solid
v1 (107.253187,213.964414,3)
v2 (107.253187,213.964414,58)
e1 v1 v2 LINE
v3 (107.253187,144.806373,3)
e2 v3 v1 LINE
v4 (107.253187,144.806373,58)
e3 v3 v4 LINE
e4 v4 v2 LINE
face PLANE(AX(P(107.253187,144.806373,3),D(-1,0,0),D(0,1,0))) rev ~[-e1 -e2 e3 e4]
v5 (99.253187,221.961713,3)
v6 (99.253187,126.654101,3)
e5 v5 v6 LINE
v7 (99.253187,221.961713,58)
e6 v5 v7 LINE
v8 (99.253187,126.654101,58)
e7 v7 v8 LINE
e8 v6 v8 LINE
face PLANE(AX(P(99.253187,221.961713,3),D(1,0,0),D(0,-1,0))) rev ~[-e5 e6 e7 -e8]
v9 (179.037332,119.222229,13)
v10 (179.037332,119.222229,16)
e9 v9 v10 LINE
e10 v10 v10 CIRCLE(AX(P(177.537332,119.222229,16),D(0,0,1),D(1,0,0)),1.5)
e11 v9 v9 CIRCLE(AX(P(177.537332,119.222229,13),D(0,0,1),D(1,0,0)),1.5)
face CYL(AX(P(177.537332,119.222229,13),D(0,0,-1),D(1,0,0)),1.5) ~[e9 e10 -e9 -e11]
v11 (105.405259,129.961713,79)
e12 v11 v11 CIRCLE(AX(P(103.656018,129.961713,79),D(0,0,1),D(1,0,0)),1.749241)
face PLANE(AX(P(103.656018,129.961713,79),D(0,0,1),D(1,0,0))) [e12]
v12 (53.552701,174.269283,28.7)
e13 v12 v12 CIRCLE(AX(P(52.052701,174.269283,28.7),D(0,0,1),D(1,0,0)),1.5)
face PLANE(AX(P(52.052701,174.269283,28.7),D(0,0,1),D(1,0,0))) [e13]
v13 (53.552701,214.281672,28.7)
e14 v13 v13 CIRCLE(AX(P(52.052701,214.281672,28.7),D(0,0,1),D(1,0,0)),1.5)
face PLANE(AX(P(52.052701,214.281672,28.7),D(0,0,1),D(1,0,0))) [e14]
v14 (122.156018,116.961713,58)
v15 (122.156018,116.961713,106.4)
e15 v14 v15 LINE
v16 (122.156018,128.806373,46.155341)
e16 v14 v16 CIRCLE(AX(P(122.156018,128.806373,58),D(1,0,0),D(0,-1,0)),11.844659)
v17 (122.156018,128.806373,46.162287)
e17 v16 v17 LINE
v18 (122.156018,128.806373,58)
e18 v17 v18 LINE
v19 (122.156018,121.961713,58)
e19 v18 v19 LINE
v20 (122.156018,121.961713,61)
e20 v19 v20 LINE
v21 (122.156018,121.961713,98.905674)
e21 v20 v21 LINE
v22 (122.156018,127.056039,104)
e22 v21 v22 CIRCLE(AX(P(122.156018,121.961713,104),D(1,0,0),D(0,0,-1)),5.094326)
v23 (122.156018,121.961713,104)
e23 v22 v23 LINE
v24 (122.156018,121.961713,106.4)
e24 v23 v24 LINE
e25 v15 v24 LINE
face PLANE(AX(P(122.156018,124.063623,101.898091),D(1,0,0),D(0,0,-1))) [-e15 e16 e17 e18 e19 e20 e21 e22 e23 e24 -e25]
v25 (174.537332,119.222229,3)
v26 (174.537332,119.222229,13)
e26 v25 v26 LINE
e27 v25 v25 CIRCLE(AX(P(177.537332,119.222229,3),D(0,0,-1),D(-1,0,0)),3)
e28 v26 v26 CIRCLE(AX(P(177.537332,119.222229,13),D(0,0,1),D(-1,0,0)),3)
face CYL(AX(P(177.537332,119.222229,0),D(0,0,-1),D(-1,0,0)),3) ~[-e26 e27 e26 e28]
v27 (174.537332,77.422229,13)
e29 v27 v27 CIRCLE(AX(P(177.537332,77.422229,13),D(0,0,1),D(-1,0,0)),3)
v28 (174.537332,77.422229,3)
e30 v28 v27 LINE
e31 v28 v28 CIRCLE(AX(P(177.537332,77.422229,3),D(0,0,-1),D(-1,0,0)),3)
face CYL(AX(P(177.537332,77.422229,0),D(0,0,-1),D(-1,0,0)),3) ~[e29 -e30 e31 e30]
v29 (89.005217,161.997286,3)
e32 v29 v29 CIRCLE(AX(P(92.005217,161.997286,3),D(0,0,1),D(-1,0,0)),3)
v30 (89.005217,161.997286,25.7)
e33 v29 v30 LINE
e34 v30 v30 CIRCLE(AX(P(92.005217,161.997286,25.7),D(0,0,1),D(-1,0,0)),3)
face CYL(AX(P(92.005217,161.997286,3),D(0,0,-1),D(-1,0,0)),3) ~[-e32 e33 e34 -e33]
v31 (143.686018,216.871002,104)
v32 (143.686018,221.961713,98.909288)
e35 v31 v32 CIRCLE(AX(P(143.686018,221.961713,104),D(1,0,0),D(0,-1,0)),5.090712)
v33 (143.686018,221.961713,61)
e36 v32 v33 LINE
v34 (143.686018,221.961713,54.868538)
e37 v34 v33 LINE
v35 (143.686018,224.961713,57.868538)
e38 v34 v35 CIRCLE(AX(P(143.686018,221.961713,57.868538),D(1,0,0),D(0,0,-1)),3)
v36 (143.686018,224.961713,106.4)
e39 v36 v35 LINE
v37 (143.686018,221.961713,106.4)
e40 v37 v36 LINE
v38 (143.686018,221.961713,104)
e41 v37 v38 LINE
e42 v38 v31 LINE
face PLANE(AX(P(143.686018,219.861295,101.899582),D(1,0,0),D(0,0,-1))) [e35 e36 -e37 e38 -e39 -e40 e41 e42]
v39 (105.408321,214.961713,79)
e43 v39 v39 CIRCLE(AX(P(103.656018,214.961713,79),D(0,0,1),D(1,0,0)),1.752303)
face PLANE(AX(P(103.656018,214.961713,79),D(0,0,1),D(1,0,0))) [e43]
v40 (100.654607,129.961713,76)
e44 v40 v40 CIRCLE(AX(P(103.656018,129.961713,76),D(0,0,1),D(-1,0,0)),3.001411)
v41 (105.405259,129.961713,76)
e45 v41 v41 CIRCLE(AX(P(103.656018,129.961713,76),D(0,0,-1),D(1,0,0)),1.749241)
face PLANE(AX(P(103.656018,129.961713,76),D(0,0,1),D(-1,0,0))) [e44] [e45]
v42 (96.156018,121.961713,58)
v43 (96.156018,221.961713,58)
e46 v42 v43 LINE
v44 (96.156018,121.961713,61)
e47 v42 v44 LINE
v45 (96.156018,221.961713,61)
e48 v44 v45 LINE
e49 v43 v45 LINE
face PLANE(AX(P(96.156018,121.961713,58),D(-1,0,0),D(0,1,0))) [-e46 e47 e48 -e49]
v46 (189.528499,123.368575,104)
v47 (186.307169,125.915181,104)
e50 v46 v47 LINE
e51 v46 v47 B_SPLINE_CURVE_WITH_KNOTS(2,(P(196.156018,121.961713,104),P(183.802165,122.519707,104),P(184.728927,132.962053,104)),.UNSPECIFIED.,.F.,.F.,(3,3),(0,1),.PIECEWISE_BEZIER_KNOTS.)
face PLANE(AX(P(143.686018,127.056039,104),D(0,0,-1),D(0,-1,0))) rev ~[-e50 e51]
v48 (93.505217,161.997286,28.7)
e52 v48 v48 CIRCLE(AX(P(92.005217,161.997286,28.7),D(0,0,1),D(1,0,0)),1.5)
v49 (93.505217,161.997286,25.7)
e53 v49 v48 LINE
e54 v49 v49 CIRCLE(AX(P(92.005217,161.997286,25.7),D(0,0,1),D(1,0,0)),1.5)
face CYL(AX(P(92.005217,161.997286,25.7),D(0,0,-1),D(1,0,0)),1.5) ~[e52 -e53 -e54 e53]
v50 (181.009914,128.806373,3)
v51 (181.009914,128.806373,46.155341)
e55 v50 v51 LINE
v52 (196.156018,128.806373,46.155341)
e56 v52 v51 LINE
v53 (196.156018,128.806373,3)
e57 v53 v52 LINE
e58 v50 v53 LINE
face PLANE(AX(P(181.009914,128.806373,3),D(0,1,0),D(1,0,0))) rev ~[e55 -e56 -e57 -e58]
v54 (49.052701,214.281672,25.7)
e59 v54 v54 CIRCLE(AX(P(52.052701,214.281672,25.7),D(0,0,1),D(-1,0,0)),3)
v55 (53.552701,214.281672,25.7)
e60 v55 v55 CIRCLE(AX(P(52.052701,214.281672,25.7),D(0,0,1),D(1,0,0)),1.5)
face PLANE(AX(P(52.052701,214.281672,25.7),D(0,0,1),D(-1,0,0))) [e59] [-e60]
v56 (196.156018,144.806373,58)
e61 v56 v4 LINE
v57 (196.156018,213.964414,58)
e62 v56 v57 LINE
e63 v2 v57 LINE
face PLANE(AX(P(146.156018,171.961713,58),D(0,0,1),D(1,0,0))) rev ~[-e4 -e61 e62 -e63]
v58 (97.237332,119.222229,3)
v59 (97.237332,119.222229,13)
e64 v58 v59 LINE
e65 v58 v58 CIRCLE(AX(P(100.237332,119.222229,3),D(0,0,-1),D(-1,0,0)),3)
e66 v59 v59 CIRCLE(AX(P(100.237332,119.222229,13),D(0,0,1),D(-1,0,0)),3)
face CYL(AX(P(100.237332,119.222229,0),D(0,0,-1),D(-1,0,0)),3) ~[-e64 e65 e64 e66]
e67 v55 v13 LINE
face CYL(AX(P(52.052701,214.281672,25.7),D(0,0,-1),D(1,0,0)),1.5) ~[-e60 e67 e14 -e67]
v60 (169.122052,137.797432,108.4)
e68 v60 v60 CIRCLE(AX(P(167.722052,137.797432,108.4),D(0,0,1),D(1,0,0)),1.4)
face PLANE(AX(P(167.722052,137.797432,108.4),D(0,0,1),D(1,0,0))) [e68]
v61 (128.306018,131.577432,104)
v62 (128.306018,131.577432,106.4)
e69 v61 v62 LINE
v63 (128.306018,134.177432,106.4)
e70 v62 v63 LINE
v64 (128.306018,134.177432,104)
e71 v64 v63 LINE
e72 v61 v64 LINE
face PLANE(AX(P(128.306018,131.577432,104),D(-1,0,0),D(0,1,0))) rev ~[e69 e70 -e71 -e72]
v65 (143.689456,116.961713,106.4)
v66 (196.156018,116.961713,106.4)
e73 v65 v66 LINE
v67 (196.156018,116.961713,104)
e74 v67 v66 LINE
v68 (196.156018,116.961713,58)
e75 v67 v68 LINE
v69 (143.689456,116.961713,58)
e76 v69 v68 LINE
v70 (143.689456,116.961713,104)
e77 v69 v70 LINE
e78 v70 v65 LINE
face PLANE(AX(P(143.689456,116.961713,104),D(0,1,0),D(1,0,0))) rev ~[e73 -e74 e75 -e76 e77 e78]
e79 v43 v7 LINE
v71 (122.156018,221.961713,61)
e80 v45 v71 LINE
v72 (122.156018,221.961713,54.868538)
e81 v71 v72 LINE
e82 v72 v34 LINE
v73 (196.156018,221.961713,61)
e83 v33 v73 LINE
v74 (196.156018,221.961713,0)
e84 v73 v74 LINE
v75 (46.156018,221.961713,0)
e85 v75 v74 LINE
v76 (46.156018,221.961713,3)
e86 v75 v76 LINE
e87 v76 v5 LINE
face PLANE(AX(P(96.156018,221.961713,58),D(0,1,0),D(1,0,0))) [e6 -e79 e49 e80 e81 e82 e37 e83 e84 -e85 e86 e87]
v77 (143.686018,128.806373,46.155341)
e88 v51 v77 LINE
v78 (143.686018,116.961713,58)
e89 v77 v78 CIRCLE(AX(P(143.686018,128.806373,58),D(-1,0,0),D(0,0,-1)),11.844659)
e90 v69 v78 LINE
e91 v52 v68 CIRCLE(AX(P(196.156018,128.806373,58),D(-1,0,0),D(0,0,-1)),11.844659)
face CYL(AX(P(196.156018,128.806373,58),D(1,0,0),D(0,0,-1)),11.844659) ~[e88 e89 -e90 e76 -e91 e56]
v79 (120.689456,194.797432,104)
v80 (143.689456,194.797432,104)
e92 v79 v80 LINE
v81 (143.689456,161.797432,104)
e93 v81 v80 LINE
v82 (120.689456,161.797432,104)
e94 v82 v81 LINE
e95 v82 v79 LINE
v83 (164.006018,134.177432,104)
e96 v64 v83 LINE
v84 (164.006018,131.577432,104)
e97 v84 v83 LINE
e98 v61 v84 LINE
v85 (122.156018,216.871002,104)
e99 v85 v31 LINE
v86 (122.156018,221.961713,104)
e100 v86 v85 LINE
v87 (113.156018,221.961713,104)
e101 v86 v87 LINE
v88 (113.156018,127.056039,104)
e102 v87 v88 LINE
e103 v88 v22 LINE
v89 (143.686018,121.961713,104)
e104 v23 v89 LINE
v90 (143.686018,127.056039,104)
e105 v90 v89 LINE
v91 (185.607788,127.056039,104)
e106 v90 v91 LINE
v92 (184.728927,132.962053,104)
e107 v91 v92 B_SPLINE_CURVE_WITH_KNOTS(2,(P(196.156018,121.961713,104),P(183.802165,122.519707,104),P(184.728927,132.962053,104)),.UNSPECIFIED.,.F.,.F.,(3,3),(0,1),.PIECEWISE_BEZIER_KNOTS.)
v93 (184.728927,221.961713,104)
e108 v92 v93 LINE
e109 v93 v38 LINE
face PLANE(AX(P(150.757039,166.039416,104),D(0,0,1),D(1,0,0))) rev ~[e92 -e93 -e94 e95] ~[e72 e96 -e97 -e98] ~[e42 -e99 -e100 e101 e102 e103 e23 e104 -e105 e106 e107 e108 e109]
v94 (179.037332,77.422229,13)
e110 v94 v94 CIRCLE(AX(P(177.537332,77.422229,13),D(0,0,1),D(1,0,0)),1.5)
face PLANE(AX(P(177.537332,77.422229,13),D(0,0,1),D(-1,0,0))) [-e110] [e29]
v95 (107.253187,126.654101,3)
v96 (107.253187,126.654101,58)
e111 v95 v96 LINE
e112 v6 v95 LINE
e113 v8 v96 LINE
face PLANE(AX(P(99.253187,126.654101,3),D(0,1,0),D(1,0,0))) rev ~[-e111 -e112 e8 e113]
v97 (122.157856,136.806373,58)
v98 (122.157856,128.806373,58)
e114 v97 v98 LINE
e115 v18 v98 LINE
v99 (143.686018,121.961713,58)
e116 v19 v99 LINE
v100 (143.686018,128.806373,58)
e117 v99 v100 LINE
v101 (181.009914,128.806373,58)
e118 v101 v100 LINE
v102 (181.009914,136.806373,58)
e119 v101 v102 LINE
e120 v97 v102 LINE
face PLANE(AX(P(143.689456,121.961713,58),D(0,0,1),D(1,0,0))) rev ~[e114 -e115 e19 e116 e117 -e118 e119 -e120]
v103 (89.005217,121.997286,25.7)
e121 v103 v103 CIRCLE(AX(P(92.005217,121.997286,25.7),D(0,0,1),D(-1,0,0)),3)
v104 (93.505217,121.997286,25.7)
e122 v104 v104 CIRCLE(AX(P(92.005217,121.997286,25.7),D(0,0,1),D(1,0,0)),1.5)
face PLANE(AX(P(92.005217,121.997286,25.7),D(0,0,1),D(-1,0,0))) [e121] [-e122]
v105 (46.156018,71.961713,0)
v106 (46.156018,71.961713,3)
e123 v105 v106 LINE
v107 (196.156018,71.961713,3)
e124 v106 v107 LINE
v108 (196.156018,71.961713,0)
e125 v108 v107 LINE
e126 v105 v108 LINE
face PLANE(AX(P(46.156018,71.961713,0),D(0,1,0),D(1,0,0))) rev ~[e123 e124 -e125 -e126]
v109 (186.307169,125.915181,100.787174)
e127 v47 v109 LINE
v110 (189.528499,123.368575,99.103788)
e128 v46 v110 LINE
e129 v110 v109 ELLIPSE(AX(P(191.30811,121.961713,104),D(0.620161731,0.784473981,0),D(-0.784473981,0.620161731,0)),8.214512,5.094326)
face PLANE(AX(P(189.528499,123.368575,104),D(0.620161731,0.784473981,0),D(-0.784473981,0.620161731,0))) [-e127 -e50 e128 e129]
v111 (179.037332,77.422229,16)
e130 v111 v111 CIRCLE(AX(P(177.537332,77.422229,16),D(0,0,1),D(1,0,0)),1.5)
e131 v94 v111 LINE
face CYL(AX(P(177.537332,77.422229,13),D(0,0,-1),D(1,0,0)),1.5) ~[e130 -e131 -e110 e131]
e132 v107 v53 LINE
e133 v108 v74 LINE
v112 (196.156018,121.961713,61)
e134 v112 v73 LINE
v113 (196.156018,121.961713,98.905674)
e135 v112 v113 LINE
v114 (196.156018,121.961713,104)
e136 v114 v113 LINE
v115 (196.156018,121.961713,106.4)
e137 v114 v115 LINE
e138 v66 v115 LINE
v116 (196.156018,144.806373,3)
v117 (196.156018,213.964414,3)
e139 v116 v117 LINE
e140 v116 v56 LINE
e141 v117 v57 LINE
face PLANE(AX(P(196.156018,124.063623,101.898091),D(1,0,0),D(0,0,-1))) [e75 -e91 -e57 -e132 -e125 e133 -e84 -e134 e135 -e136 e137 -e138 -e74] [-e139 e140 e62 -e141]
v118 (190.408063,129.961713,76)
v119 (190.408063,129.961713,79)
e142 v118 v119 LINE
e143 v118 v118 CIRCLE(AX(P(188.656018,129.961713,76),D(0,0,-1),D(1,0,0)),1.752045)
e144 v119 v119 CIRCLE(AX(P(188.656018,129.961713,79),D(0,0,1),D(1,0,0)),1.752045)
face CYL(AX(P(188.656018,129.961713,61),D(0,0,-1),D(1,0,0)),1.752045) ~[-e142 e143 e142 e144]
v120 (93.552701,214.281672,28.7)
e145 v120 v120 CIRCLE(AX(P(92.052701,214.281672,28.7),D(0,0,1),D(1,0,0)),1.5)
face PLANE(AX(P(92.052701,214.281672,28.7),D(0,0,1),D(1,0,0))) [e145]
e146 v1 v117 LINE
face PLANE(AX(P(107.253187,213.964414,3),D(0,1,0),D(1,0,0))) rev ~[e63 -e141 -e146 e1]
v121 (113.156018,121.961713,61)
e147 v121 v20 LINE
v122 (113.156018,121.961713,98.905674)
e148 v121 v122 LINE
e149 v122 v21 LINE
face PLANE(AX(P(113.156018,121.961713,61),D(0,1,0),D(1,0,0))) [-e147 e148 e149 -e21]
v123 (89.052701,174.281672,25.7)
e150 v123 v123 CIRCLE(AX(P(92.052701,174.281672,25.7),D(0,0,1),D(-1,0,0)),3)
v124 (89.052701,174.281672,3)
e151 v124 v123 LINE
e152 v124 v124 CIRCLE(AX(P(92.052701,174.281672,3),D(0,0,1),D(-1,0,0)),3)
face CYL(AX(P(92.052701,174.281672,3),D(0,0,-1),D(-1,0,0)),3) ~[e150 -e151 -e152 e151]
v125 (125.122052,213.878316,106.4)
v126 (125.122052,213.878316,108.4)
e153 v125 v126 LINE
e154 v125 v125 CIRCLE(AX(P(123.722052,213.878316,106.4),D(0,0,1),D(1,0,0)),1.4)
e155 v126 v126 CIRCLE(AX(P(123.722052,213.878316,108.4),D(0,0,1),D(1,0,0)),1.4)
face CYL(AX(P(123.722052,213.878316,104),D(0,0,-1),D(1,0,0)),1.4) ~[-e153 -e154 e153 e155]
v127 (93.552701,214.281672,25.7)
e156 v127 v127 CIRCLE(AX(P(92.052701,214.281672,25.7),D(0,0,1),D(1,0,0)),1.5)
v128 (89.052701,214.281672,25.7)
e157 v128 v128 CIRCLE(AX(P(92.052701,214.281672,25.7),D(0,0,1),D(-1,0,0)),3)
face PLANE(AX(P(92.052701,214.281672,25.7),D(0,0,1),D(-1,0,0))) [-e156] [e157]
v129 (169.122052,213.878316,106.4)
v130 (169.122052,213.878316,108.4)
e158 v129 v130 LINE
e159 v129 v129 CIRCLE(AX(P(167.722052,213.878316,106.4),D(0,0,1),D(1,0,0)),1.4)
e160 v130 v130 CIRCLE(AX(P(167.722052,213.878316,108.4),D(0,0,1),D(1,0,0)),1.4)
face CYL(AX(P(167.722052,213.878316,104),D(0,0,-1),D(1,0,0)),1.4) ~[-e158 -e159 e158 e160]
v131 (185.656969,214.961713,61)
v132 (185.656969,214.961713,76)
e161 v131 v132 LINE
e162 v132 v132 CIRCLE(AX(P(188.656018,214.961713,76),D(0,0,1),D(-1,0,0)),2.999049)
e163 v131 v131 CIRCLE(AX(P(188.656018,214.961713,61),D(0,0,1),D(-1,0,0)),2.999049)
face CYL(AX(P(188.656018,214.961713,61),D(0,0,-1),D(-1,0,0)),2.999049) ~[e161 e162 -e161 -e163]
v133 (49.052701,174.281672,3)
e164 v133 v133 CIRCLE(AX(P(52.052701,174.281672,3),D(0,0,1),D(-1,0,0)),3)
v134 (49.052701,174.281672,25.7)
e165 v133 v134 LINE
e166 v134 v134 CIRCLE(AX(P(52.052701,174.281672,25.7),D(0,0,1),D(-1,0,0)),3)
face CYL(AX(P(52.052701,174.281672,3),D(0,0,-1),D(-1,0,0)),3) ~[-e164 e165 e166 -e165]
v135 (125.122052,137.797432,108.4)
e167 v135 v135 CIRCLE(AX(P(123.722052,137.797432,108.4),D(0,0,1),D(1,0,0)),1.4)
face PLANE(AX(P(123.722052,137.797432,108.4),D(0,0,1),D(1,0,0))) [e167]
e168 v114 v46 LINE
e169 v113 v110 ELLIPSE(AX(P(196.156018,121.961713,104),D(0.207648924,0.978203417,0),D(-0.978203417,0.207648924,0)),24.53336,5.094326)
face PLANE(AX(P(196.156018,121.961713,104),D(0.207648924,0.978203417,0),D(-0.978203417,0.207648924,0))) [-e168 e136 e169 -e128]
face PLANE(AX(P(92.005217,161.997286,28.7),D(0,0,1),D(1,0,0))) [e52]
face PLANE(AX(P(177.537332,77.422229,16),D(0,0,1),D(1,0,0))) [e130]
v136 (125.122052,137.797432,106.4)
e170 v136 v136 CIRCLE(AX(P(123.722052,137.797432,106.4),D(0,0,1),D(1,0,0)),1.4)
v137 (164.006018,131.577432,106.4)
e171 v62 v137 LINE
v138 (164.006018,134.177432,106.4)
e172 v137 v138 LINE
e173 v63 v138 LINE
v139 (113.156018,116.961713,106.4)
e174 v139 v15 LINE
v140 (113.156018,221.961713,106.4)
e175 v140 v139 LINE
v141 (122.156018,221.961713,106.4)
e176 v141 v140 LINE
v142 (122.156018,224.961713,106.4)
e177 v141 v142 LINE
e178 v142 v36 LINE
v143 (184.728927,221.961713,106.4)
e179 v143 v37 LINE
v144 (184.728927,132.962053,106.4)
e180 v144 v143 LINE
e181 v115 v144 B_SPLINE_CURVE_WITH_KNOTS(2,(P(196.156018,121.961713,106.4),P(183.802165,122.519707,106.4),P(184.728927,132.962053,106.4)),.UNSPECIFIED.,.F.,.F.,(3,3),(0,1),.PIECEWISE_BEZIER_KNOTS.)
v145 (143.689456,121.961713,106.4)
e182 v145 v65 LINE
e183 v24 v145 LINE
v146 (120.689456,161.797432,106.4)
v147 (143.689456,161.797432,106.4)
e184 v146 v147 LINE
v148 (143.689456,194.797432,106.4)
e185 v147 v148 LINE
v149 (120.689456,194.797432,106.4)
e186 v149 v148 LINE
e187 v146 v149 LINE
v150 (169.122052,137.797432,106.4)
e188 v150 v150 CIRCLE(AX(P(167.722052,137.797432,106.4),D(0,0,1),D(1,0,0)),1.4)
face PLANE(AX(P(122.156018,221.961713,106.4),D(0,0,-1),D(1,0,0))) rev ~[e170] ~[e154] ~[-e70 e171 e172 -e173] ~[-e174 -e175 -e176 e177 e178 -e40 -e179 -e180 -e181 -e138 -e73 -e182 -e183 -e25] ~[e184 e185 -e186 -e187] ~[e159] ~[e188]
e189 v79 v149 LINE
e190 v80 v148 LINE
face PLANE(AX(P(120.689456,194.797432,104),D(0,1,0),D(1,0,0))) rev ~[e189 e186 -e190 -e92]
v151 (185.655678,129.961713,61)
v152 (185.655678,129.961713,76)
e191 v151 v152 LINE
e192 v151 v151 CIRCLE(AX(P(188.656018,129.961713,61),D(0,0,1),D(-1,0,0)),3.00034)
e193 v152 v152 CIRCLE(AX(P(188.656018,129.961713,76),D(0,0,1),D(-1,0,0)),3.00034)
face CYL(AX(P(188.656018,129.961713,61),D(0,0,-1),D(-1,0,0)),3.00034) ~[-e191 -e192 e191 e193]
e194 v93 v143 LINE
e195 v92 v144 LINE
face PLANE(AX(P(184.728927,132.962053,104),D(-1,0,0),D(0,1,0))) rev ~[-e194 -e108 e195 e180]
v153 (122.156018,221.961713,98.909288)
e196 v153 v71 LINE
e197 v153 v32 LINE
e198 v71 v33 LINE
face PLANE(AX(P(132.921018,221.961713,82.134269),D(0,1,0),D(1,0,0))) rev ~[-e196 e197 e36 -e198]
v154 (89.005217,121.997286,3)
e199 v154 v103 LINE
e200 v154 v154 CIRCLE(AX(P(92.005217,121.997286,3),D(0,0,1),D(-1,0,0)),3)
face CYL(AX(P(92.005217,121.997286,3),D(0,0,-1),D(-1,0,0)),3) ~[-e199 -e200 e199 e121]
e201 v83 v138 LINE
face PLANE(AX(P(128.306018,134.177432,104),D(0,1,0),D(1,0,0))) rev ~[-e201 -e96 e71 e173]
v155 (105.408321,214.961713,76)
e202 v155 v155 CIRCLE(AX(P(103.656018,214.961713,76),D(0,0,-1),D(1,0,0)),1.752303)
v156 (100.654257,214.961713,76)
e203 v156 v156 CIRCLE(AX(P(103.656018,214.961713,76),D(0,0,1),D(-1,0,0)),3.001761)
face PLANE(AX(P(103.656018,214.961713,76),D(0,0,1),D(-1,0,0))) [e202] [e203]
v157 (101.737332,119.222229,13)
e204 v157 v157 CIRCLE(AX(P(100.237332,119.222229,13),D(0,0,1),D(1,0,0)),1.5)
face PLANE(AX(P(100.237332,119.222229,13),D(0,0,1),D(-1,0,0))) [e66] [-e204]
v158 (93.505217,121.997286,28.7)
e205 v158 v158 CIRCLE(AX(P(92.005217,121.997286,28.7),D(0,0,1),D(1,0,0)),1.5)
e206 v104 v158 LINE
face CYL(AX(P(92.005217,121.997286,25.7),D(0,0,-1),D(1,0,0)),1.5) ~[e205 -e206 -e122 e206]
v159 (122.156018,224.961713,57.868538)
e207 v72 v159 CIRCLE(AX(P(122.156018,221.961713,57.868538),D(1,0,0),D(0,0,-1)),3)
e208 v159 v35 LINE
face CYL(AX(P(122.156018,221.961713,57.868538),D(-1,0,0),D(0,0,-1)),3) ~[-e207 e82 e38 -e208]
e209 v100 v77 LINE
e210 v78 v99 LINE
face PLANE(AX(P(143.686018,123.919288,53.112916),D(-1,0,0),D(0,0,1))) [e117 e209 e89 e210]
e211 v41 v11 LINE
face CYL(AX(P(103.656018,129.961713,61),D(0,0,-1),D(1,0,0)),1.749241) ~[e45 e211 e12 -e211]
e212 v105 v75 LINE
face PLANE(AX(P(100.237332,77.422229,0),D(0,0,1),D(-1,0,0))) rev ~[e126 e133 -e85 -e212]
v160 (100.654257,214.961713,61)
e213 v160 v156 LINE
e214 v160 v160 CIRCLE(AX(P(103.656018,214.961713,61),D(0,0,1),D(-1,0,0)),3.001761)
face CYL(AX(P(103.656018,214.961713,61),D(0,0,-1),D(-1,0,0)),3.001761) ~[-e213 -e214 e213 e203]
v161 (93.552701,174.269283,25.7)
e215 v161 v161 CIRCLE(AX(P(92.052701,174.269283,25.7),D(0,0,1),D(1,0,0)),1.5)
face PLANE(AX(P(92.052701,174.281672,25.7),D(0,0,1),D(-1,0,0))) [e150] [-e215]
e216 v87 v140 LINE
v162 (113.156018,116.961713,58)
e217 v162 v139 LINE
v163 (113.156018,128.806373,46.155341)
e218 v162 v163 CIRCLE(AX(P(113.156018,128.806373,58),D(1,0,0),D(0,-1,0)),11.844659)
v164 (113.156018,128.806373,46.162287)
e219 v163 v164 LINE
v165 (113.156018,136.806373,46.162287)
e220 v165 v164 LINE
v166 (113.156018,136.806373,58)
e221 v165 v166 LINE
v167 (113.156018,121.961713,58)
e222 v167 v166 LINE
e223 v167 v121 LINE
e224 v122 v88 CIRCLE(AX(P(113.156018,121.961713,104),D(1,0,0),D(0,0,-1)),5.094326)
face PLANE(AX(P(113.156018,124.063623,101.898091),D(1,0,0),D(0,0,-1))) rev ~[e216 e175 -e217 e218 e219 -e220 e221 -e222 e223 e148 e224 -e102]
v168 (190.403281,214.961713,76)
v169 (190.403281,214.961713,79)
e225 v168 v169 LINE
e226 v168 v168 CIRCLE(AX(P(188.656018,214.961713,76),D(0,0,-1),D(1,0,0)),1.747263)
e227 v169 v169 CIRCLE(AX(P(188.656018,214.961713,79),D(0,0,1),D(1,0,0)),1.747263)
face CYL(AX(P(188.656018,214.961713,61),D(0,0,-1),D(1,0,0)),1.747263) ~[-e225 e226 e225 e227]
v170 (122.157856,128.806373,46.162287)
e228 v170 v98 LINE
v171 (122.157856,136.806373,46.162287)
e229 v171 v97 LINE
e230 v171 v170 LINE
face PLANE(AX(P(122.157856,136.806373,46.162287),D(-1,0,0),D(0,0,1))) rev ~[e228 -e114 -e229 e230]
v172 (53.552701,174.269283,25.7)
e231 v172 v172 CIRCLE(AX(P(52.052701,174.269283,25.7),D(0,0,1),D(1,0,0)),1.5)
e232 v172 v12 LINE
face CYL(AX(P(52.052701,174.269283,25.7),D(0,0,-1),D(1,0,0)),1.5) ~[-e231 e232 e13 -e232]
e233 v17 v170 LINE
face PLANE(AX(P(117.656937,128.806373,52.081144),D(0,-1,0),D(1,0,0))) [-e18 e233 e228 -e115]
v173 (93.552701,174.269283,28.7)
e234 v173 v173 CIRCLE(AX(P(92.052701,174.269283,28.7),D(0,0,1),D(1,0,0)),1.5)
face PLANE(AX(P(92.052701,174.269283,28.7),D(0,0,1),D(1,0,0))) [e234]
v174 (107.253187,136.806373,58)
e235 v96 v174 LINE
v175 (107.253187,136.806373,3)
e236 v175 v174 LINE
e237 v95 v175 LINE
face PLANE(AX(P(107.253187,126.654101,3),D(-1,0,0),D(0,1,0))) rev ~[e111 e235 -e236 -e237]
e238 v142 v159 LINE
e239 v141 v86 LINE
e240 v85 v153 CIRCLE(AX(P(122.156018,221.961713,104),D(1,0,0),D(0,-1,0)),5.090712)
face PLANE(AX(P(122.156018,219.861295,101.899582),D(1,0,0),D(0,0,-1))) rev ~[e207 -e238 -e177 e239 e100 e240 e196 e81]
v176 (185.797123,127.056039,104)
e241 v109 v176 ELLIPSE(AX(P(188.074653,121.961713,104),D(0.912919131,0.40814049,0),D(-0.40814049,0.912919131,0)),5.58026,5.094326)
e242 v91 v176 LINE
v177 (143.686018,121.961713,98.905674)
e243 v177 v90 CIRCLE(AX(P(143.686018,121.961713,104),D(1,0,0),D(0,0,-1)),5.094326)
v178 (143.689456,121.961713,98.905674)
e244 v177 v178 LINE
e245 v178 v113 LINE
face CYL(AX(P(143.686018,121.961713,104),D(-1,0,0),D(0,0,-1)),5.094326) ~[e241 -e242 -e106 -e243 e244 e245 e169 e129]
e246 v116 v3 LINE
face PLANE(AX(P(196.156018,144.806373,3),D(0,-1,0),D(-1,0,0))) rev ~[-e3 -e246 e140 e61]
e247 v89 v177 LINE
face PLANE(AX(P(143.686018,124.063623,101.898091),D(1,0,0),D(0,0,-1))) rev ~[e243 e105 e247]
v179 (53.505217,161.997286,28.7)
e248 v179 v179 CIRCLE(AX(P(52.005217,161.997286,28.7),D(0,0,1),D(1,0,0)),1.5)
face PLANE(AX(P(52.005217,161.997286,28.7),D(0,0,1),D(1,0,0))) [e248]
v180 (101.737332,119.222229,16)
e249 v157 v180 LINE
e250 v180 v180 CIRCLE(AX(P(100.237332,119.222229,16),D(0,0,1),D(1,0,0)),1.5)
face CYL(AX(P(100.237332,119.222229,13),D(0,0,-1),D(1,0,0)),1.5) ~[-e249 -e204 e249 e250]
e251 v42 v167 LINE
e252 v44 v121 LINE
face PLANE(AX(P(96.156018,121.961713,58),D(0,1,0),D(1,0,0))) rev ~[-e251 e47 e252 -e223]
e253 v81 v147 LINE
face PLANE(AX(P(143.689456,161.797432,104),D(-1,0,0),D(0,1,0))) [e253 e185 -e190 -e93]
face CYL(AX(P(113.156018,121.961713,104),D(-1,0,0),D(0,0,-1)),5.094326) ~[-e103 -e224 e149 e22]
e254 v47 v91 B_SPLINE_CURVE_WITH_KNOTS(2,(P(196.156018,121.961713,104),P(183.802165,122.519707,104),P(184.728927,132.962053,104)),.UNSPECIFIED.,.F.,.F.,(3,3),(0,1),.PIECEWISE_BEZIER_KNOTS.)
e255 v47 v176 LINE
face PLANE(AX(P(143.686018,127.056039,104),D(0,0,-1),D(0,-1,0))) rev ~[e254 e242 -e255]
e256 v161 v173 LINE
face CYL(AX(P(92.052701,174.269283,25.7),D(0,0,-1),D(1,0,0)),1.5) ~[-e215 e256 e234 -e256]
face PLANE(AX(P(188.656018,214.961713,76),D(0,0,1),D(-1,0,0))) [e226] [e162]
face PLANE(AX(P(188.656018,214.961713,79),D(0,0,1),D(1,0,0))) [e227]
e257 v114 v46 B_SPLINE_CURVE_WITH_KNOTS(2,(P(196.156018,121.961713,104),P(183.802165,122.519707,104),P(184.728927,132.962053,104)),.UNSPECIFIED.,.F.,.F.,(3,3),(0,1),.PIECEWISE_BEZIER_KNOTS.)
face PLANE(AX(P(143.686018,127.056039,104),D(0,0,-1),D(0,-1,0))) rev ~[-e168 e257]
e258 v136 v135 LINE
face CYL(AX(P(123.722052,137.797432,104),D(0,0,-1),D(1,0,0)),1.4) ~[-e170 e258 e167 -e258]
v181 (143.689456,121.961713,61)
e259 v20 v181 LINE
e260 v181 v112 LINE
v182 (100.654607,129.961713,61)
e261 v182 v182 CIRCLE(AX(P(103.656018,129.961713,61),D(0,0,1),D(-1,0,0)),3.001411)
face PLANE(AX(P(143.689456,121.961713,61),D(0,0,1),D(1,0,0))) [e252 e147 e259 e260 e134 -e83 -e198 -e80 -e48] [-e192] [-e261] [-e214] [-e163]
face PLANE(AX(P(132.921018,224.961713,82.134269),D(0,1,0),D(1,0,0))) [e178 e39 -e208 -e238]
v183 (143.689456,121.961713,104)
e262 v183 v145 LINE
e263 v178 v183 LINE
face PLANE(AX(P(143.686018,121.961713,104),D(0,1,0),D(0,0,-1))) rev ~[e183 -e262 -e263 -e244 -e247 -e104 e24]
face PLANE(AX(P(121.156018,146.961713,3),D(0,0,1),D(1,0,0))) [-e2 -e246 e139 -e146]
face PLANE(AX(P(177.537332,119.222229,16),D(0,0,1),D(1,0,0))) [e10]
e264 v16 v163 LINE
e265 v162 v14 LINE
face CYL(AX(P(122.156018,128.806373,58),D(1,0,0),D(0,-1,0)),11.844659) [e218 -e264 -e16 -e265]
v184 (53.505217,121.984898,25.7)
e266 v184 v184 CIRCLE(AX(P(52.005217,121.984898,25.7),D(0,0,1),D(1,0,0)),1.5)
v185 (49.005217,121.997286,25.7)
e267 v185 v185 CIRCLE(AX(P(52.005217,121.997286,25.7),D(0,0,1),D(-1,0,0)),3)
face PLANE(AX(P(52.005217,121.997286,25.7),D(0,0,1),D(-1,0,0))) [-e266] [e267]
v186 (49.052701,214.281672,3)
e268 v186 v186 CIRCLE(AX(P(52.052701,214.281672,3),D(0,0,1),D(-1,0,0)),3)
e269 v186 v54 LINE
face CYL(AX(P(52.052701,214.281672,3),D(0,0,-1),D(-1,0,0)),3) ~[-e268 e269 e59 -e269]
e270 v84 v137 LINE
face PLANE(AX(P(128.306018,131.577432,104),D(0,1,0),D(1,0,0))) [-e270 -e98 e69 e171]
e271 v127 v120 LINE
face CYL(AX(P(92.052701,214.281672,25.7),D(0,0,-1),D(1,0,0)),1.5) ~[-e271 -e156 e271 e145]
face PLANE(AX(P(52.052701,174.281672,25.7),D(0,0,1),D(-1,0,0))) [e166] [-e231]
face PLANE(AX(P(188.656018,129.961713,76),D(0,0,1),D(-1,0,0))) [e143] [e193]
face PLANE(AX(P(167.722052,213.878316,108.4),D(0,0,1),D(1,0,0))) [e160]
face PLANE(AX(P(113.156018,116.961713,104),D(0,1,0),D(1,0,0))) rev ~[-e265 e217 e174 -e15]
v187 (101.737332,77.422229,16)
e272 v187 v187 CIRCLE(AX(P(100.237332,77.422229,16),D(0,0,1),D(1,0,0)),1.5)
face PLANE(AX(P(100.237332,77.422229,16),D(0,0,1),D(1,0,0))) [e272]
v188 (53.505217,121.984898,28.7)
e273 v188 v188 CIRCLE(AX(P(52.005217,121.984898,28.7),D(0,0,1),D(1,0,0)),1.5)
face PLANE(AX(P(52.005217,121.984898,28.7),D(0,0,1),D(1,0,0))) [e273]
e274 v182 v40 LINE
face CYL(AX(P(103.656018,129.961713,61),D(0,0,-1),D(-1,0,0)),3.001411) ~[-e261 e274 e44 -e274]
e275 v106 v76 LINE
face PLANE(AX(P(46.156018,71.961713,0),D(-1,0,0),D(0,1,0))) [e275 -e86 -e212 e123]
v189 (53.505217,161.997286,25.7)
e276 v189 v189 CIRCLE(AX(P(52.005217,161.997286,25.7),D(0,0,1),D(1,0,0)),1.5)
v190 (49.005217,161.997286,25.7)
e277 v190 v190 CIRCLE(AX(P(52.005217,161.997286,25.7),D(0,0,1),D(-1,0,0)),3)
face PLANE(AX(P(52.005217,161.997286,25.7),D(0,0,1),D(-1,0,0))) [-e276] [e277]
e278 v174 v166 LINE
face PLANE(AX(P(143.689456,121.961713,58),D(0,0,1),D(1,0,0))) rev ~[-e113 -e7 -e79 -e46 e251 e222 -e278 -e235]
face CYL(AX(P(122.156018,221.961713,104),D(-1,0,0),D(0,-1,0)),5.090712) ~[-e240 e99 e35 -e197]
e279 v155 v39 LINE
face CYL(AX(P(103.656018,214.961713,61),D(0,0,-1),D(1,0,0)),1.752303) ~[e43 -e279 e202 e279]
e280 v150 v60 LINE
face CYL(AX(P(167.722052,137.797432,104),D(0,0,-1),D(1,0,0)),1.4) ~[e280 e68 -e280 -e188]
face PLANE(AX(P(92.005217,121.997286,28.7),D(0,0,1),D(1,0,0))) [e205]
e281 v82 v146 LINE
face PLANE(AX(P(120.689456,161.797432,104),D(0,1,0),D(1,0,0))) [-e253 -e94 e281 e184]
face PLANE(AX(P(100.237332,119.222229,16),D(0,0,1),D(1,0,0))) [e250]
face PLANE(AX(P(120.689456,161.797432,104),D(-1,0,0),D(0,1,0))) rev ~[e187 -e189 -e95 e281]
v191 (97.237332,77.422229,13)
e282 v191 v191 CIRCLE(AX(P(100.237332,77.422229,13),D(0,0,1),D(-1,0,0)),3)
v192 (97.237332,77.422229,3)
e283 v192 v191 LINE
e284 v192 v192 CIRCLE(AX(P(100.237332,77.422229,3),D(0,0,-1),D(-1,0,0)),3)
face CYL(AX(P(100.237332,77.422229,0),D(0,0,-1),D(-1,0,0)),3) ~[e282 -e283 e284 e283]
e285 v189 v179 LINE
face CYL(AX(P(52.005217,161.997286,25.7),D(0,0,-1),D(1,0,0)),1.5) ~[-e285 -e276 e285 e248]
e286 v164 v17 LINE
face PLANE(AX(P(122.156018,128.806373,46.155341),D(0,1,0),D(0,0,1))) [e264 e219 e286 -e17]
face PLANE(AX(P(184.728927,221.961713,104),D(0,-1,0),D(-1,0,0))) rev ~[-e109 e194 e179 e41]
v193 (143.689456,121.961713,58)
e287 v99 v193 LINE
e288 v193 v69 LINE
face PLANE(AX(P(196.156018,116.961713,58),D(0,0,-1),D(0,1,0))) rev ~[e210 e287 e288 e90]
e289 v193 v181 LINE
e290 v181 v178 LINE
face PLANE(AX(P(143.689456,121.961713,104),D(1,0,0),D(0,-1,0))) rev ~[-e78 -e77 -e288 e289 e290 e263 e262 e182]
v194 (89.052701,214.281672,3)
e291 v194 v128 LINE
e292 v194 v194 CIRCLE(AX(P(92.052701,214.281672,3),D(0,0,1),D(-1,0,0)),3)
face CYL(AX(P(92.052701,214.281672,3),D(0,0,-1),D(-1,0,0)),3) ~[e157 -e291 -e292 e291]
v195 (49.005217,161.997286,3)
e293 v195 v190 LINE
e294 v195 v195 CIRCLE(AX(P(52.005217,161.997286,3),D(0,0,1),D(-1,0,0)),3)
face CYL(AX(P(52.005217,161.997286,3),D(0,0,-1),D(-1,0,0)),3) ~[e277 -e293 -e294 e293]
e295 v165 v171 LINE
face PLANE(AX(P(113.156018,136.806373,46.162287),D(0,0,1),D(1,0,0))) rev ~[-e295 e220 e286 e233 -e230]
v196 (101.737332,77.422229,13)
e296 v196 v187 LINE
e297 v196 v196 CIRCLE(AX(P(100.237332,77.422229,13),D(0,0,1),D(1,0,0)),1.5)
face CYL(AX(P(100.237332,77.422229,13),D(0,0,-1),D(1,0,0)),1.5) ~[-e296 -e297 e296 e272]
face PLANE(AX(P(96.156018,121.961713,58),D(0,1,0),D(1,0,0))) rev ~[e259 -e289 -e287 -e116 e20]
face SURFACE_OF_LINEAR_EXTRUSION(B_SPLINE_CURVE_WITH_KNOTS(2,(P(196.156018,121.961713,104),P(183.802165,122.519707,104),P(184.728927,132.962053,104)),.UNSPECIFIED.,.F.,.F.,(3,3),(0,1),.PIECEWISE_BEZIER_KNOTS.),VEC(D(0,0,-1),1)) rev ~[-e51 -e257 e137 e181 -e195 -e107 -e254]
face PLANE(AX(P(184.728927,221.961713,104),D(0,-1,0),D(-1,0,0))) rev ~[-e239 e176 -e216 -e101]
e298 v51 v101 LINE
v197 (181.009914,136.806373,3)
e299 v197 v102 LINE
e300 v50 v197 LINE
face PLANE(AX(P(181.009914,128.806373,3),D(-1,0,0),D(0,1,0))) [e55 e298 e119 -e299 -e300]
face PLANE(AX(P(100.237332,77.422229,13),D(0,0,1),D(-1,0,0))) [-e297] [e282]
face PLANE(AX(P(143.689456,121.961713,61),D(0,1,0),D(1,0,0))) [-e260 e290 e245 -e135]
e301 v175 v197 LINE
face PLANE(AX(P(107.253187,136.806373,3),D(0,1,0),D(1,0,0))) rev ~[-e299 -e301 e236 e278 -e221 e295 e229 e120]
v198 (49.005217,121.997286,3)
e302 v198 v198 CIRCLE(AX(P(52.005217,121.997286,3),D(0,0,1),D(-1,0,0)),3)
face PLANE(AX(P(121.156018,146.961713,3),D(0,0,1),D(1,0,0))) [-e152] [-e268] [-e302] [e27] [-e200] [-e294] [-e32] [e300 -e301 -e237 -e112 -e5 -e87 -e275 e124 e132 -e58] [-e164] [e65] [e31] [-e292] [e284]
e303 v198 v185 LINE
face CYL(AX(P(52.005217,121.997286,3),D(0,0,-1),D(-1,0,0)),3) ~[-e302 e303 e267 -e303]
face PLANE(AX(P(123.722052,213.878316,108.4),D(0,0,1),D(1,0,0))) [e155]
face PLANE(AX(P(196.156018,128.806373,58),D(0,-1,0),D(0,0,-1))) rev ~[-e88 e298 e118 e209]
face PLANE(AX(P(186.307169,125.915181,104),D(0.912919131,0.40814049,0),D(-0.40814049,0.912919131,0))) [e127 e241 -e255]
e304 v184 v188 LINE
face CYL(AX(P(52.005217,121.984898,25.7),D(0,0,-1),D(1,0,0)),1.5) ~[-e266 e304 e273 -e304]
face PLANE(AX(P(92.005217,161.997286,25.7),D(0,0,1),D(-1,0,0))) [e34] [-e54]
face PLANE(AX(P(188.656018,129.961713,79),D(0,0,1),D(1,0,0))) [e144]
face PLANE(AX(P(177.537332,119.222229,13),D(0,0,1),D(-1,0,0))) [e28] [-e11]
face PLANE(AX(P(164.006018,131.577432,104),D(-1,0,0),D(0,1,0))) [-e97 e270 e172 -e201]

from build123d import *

# Parameters (mm, degrees)
SKETCH1_W            = 150
SKETCH1_H            = 150
BOSS_EXTRUDE2_DEPTH  = 3
SKETCH7_R            = 3
BOSS_EXTRUDE3_DEPTH  = 13
SKETCH13_W           = 15.146104274
SKETCH13_H           = 8
BOSS_EXTRUDE4_DEPTH  = 55
SKETCH14_W           = 100
SKETCH14_H           = 100
BOSS_EXTRUDE5_DEPTH  = 3
SKETCH15_R           = 3.001760758
SKETCH15_R_2         = 3.00141088
SKETCH15_R_3         = 3.000339641
SKETCH15_R_4         = 2.9990493
BOSS_EXTRUDE22_DEPTH = 15
SKETCH20_R           = 3
BOSS_EXTRUDE8_DEPTH  = 22.7
SKETCH23_W           = 52.466562125
SKETCH23_H           = 3
SKETCH23_W_2         = 9
BOSS_EXTRUDE9_DEPTH  = 5
BOSS_EXTRUDE10_DEPTH = 52.47
BOSS_EXTRUDE11_START = -74
BOSS_EXTRUDE11_DEPTH = 9
SKETCH25_W           = 9.00183775
SKETCH25_H           = 11.837712984
BOSS_EXTRUDE12_DEPTH = 8
SKETCH26_W           = 9
SKETCH26_H           = 5
SKETCH26_W_2         = 52.466562125
BOSS_EXTRUDE13_DEPTH = 43
SKETCH27_R           = 1.4
SKETCH27_W           = 35.7
SKETCH27_H           = 2.6
SKETCH27_W_2         = 23
SKETCH27_H_2         = 33
BOSS_EXTRUDE14_DEPTH = 2.4
SKETCH29_W           = 21.53
SKETCH29_H           = 48.531461908
BOSS_EXTRUDE15_DEPTH = 3
BOSS_EXTRUDE16_DEPTH = 21.53
BOSS_EXTRUDE17_DEPTH = 9
BOSS_EXTRUDE18_START = -30.53
BOSS_EXTRUDE18_DEPTH = 52.47
CUT_EXTRUDE5_DEPTH   = 8
BOSS_EXTRUDE19_DEPTH = 21.53
SKETCH21_R           = 1.5
BOSS_EXTRUDE20_DEPTH = 3
SKETCH17_R           = 1.5
BOSS_EXTRUDE21_DEPTH = 3
SKETCH15_3_R         = 1.75230345
SKETCH15_3_R_2       = 1.749240596
SKETCH15_3_R_3       = 1.752045419
SKETCH15_3_R_4       = 1.747263247
BOSS_EXTRUDE23_DEPTH = 18
SKETCH27_3_R         = 1.4
BOSS_EXTRUDE24_DEPTH = 4.4


with BuildPart() as part:
    # Sketch1 → Boss-Extrude2 (new body)
    with BuildSketch(Plane.XY):
        with Locations((121.156017968, 146.961713176)):
            Rectangle(SKETCH1_W, SKETCH1_H)
    extrude(amount=BOSS_EXTRUDE2_DEPTH)

    # Sketch7 → Boss-Extrude3 (add)
    with BuildSketch(Plane.XY):
        with Locations(Location((100.23733205, 77.422228763, 0), (0, 0, 180))):
            Circle(SKETCH7_R)
        with Locations(Location((177.53733205, 77.422228763, 0), (0, 0, 180))):
            Circle(SKETCH7_R)
        with Locations(Location((177.53733205, 119.222228763, 0), (0, 0, 180))):
            Circle(SKETCH7_R)
        with Locations(Location((100.23733205, 119.222228763, 0), (0, 0, 180))):
            Circle(SKETCH7_R)
    extrude(amount=BOSS_EXTRUDE3_DEPTH)

    # Sketch13 → Boss-Extrude4 (add)
    with BuildSketch(Plane.XY.offset(3)):
        Polygon((196.156017968, 213.964413798), (196.156017968, 221.961713176), (99.253187126, 221.961713176), (99.253187126, 213.964413798), (107.253187126, 213.964413798), align=None)
        Polygon((107.253187126, 213.964413798), (99.253187126, 213.964413798), (99.253187126, 126.654100723), (107.253187126, 126.654100723), (107.253187126, 136.806372616), (107.253187126, 144.806372616), align=None)
        Polygon((196.156017968, 136.806372616), (196.156017968, 144.806372616), (107.253187126, 144.806372616), (107.253187126, 136.806372616), (181.009913694, 136.806372616), align=None)
        with Locations((188.582965831, 132.806372616)):
            Rectangle(SKETCH13_W, SKETCH13_H)
    extrude(amount=BOSS_EXTRUDE4_DEPTH)

    # Sketch14 → Boss-Extrude5 (add)
    with BuildSketch(Plane.XY.offset(58)):
        with Locations((146.156017968, 171.961713176)):
            Rectangle(SKETCH14_W, SKETCH14_H)
    extrude(amount=BOSS_EXTRUDE5_DEPTH)

    # Sketch15 → Boss-Extrude22 (add)
    with BuildSketch(Plane.XY.offset(61)):
        with Locations(Location((103.656017968, 214.961713176, 0), (0, 0, 180))):
            Circle(SKETCH15_R)
        with Locations(Location((103.656017968, 129.961713176, 0), (0, 0, 180))):
            Circle(SKETCH15_R_2)
        with Locations(Location((188.656017968, 129.961713176, 0), (0, 0, 180))):
            Circle(SKETCH15_R_3)
        with Locations(Location((188.656017968, 214.961713176, 0), (0, 0, 180))):
            Circle(SKETCH15_R_4)
    extrude(amount=BOSS_EXTRUDE22_DEPTH)

    # Sketch20 → Boss-Extrude8 (add)
    with BuildSketch(Plane.XY.offset(3)):
        with Locations(Location((92.052701123, 214.281671575, 0), (0, 0, 180))):
            Circle(SKETCH20_R)
        with Locations(Location((52.052701123, 214.281671575, 0), (0, 0, 180))):
            Circle(SKETCH20_R)
        with Locations(Location((52.052701123, 174.281671575, 0), (0, 0, 180))):
            Circle(SKETCH20_R)
        with Locations(Location((92.052701123, 174.281671575, 0), (0, 0, 180))):
            Circle(SKETCH20_R)
        with Locations(Location((92.005217403, 161.997286282, 0), (0, 0, 180))):
            Circle(SKETCH20_R)
        with Locations(Location((52.005217403, 161.997286282, 0), (0, 0, 180))):
            Circle(SKETCH20_R)
        with Locations(Location((92.005217403, 121.997286282, 0), (0, 0, 180))):
            Circle(SKETCH20_R)
        with Locations(Location((52.005217403, 121.997286282, 0), (0, 0, 180))):
            Circle(SKETCH20_R)
    extrude(amount=BOSS_EXTRUDE8_DEPTH)

    # Sketch23 → Boss-Extrude9 (add)
    with BuildSketch(Plane.XZ.offset(-121.961713176)):
        with Locations((169.922736906, 59.5)):
            Rectangle(SKETCH23_W, SKETCH23_H)
        with Locations((117.656017968, 59.5)):
            Rectangle(SKETCH23_W_2, SKETCH23_H)
    extrude(amount=BOSS_EXTRUDE9_DEPTH)

    # Sketch24 → Boss-Extrude10 (add)
    with BuildSketch(Plane(origin=(196.156017968, 0, 0), x_dir=(0, 0, -1), z_dir=(1, 0, 0))):
        with BuildLine():
            Line((-58, 116.961713176), (-58, 128.806372616))
            Line((-58, 128.806372616), (-46.155340559, 128.806372616))
            ThreePointArc((-46.155340559, 128.806372616), (-49.624560989, 120.430933605), (-58, 116.961713176))
        make_face()
    extrude(amount=-BOSS_EXTRUDE10_DEPTH)

    # Sketch24<2> → Boss-Extrude11 (add)
    with BuildSketch(Plane(origin=(196.156017968, 0, 0), x_dir=(0, 0, -1), z_dir=(1, 0, 0)).offset(BOSS_EXTRUDE11_START)):
        with BuildLine():
            ThreePointArc((-58, 116.961713176), (-49.624560989, 120.430933605), (-46.155340559, 128.806372616))
            Line((-46.155340559, 128.806372616), (-58, 128.806372616))
            Line((-58, 128.806372616), (-58, 116.961713176))
        make_face()
    extrude(amount=-BOSS_EXTRUDE11_DEPTH)

    # Sketch25 → Boss-Extrude12 (add)
    with BuildSketch(Plane.XZ.offset(-136.806372616)):
        with Locations((117.656936843, 52.081143508)):
            Rectangle(SKETCH25_W, SKETCH25_H)
    extrude(amount=BOSS_EXTRUDE12_DEPTH)

    # Sketch26 → Boss-Extrude13 (add)
    with BuildSketch(Plane.XY.offset(61)):
        with Locations((117.656017968, 119.461713176)):
            Rectangle(SKETCH26_W, SKETCH26_H)
        with Locations((169.922736906, 119.461713176)):
            Rectangle(SKETCH26_W_2, SKETCH26_H)
    extrude(amount=BOSS_EXTRUDE13_DEPTH)

    # Sketch27 → Boss-Extrude14 (add)
    with BuildSketch(Plane.XY.offset(104)):
        with BuildLine():
            Line((113.156017968, 221.961713176), (113.156017968, 116.961713176))
            Line((113.156017968, 116.961713176), (122.156017968, 116.961713176))
            Line((122.156017968, 116.961713176), (122.156017968, 121.961713176))
            Line((122.156017968, 121.961713176), (143.689455843, 121.961713176))
            Line((143.689455843, 121.961713176), (143.689455843, 116.961713176))
            Line((143.689455843, 116.961713176), (196.156017968, 116.961713176))
            Line((196.156017968, 116.961713176), (196.156017968, 121.961713176))
            add(Edge.make_bspline(
                [(196.156017968, 121.961713176), (183.802165041, 122.519707419), (184.728927285, 132.962052817)],
                knots=[0, 0, 0, 1, 1, 1], degree=2))
            Line((184.728927285, 132.962052817), (184.728927285, 221.961713176))
            Line((184.728927285, 221.961713176), (113.156017968, 221.961713176))
        make_face()
        with Locations((123.722051557, 137.797431656)):
            Circle(SKETCH27_R, mode=Mode.SUBTRACT)
        with Locations((146.156017968, 132.877431656)):
            Rectangle(SKETCH27_W, SKETCH27_H, mode=Mode.SUBTRACT)
        with Locations((167.722051557, 137.797431656)):
            Circle(SKETCH27_R, mode=Mode.SUBTRACT)
        with Locations((132.189455843, 178.297431656)):
            Rectangle(SKETCH27_W_2, SKETCH27_H_2, mode=Mode.SUBTRACT)
        with Locations((123.722051557, 213.87831574)):
            Circle(SKETCH27_R, mode=Mode.SUBTRACT)
        with Locations((167.722051557, 213.87831574)):
            Circle(SKETCH27_R, mode=Mode.SUBTRACT)
    extrude(amount=BOSS_EXTRUDE14_DEPTH)

    # Sketch29 → Boss-Extrude15 (add)
    with BuildSketch(Plane(origin=(0, 221.961713176, 0), x_dir=(1, 0, 0), z_dir=(0, 1, 0))):
        with Locations((132.921017968, -82.134269046)):
            Rectangle(SKETCH29_W, SKETCH29_H)
    extrude(amount=BOSS_EXTRUDE15_DEPTH)

    # Sketch30 → Boss-Extrude16 (add)
    with BuildSketch(Plane.ZY.offset(-122.156017968)):
        with BuildLine():
            Line((57.868538092, 224.961713176), (57.868538092, 221.961713176))
            Line((57.868538092, 221.961713176), (54.868538092, 221.961713176))
            ThreePointArc((54.868538092, 221.961713176), (55.747217748, 224.083033519), (57.868538092, 224.961713176))
        make_face()
    extrude(amount=-BOSS_EXTRUDE16_DEPTH)

    # Sketch31 → Boss-Extrude17 (add)
    with BuildSketch(Plane.ZY.offset(-113.156017968)):
        with BuildLine():
            Line((104, 121.961713176), (98.905674281, 121.961713176))
            ThreePointArc((98.905674281, 121.961713176), (100.397767738, 125.563945438), (104, 127.056038895))
            Line((104, 127.056038895), (104, 121.961713176))
        make_face()
    extrude(amount=-BOSS_EXTRUDE17_DEPTH)

    # Sketch31<3> → Boss-Extrude18 (add)
    with BuildSketch(Plane.ZY.offset(-113.156017968).offset(BOSS_EXTRUDE18_START)):
        with BuildLine():
            Line((104, 121.961713176), (98.905674281, 121.961713176))
            ThreePointArc((98.905674281, 121.961713176), (100.397767738, 125.563945438), (104, 127.056038895))
            Line((104, 127.056038895), (104, 121.961713176))
        make_face()
    extrude(amount=-BOSS_EXTRUDE18_DEPTH)

    # Sketch33 → Cut-Extrude5 (cut)
    with BuildSketch(Plane.XY.offset(104)):
        Polygon((196.156017968, 121.961713176), (189.528499082, 123.368575123), (186.307168563, 125.915180821), (185.797122977, 127.056038895), (196.156017968, 127.056038895), align=None)
    extrude(amount=-CUT_EXTRUDE5_DEPTH, mode=Mode.SUBTRACT)

    # Sketch32 → Boss-Extrude19 (add)
    with BuildSketch(Plane.ZY.offset(-122.156017968)):
        with BuildLine():
            Line((104, 221.961713176), (104, 216.871001578))
            ThreePointArc((104, 216.871001578), (100.400323308, 218.362036484), (98.909288402, 221.961713176))
            Line((98.909288402, 221.961713176), (104, 221.961713176))
        make_face()
    extrude(amount=-BOSS_EXTRUDE19_DEPTH)

    # Sketch21 → Boss-Extrude20 (add)
    with BuildSketch(Plane.XY.offset(25.7)):
        with Locations((52.005217403, 161.997286282)):
            Circle(SKETCH21_R)
        with Locations((92.005217403, 161.997286282)):
            Circle(SKETCH21_R)
        with Locations((92.005217403, 121.997286282)):
            Circle(SKETCH21_R)
        with Locations((52.005217403, 121.984897708)):
            Circle(SKETCH21_R)
        with Locations((52.052701123, 214.281671575)):
            Circle(SKETCH21_R)
        with Locations((92.052701123, 214.281671575)):
            Circle(SKETCH21_R)
        with Locations((92.052701123, 174.269283002)):
            Circle(SKETCH21_R)
        with Locations((52.052701123, 174.269283002)):
            Circle(SKETCH21_R)
    extrude(amount=BOSS_EXTRUDE20_DEPTH)

    # Sketch17 → Boss-Extrude21 (add)
    with BuildSketch(Plane.XY.offset(13)):
        with Locations((100.23733205, 119.222228763)):
            Circle(SKETCH17_R)
        with Locations((100.23733205, 77.422228763)):
            Circle(SKETCH17_R)
        with Locations((177.53733205, 77.422228763)):
            Circle(SKETCH17_R)
        with Locations((177.53733205, 119.222228763)):
            Circle(SKETCH17_R)
    extrude(amount=BOSS_EXTRUDE21_DEPTH)

    # Sketch15<3> → Boss-Extrude23 (add)
    with BuildSketch(Plane.XY.offset(61)):
        with Locations((103.656017968, 214.961713176)):
            Circle(SKETCH15_3_R)
        with Locations((103.656017968, 129.961713176)):
            Circle(SKETCH15_3_R_2)
        with Locations((188.656017968, 129.961713176)):
            Circle(SKETCH15_3_R_3)
        with Locations((188.656017968, 214.961713176)):
            Circle(SKETCH15_3_R_4)
    extrude(amount=BOSS_EXTRUDE23_DEPTH)

    # Sketch27<3> → Boss-Extrude24 (add)
    with BuildSketch(Plane.XY.offset(104)):
        with Locations((167.722051557, 137.797431656)):
            Circle(SKETCH27_3_R)
        with Locations((123.722051557, 137.797431656)):
            Circle(SKETCH27_3_R)
        with Locations((123.722051557, 213.87831574)):
            Circle(SKETCH27_3_R)
        with Locations((167.722051557, 213.87831574)):
            Circle(SKETCH27_3_R)
    extrude(amount=BOSS_EXTRUDE24_DEPTH)


solid = part.part
